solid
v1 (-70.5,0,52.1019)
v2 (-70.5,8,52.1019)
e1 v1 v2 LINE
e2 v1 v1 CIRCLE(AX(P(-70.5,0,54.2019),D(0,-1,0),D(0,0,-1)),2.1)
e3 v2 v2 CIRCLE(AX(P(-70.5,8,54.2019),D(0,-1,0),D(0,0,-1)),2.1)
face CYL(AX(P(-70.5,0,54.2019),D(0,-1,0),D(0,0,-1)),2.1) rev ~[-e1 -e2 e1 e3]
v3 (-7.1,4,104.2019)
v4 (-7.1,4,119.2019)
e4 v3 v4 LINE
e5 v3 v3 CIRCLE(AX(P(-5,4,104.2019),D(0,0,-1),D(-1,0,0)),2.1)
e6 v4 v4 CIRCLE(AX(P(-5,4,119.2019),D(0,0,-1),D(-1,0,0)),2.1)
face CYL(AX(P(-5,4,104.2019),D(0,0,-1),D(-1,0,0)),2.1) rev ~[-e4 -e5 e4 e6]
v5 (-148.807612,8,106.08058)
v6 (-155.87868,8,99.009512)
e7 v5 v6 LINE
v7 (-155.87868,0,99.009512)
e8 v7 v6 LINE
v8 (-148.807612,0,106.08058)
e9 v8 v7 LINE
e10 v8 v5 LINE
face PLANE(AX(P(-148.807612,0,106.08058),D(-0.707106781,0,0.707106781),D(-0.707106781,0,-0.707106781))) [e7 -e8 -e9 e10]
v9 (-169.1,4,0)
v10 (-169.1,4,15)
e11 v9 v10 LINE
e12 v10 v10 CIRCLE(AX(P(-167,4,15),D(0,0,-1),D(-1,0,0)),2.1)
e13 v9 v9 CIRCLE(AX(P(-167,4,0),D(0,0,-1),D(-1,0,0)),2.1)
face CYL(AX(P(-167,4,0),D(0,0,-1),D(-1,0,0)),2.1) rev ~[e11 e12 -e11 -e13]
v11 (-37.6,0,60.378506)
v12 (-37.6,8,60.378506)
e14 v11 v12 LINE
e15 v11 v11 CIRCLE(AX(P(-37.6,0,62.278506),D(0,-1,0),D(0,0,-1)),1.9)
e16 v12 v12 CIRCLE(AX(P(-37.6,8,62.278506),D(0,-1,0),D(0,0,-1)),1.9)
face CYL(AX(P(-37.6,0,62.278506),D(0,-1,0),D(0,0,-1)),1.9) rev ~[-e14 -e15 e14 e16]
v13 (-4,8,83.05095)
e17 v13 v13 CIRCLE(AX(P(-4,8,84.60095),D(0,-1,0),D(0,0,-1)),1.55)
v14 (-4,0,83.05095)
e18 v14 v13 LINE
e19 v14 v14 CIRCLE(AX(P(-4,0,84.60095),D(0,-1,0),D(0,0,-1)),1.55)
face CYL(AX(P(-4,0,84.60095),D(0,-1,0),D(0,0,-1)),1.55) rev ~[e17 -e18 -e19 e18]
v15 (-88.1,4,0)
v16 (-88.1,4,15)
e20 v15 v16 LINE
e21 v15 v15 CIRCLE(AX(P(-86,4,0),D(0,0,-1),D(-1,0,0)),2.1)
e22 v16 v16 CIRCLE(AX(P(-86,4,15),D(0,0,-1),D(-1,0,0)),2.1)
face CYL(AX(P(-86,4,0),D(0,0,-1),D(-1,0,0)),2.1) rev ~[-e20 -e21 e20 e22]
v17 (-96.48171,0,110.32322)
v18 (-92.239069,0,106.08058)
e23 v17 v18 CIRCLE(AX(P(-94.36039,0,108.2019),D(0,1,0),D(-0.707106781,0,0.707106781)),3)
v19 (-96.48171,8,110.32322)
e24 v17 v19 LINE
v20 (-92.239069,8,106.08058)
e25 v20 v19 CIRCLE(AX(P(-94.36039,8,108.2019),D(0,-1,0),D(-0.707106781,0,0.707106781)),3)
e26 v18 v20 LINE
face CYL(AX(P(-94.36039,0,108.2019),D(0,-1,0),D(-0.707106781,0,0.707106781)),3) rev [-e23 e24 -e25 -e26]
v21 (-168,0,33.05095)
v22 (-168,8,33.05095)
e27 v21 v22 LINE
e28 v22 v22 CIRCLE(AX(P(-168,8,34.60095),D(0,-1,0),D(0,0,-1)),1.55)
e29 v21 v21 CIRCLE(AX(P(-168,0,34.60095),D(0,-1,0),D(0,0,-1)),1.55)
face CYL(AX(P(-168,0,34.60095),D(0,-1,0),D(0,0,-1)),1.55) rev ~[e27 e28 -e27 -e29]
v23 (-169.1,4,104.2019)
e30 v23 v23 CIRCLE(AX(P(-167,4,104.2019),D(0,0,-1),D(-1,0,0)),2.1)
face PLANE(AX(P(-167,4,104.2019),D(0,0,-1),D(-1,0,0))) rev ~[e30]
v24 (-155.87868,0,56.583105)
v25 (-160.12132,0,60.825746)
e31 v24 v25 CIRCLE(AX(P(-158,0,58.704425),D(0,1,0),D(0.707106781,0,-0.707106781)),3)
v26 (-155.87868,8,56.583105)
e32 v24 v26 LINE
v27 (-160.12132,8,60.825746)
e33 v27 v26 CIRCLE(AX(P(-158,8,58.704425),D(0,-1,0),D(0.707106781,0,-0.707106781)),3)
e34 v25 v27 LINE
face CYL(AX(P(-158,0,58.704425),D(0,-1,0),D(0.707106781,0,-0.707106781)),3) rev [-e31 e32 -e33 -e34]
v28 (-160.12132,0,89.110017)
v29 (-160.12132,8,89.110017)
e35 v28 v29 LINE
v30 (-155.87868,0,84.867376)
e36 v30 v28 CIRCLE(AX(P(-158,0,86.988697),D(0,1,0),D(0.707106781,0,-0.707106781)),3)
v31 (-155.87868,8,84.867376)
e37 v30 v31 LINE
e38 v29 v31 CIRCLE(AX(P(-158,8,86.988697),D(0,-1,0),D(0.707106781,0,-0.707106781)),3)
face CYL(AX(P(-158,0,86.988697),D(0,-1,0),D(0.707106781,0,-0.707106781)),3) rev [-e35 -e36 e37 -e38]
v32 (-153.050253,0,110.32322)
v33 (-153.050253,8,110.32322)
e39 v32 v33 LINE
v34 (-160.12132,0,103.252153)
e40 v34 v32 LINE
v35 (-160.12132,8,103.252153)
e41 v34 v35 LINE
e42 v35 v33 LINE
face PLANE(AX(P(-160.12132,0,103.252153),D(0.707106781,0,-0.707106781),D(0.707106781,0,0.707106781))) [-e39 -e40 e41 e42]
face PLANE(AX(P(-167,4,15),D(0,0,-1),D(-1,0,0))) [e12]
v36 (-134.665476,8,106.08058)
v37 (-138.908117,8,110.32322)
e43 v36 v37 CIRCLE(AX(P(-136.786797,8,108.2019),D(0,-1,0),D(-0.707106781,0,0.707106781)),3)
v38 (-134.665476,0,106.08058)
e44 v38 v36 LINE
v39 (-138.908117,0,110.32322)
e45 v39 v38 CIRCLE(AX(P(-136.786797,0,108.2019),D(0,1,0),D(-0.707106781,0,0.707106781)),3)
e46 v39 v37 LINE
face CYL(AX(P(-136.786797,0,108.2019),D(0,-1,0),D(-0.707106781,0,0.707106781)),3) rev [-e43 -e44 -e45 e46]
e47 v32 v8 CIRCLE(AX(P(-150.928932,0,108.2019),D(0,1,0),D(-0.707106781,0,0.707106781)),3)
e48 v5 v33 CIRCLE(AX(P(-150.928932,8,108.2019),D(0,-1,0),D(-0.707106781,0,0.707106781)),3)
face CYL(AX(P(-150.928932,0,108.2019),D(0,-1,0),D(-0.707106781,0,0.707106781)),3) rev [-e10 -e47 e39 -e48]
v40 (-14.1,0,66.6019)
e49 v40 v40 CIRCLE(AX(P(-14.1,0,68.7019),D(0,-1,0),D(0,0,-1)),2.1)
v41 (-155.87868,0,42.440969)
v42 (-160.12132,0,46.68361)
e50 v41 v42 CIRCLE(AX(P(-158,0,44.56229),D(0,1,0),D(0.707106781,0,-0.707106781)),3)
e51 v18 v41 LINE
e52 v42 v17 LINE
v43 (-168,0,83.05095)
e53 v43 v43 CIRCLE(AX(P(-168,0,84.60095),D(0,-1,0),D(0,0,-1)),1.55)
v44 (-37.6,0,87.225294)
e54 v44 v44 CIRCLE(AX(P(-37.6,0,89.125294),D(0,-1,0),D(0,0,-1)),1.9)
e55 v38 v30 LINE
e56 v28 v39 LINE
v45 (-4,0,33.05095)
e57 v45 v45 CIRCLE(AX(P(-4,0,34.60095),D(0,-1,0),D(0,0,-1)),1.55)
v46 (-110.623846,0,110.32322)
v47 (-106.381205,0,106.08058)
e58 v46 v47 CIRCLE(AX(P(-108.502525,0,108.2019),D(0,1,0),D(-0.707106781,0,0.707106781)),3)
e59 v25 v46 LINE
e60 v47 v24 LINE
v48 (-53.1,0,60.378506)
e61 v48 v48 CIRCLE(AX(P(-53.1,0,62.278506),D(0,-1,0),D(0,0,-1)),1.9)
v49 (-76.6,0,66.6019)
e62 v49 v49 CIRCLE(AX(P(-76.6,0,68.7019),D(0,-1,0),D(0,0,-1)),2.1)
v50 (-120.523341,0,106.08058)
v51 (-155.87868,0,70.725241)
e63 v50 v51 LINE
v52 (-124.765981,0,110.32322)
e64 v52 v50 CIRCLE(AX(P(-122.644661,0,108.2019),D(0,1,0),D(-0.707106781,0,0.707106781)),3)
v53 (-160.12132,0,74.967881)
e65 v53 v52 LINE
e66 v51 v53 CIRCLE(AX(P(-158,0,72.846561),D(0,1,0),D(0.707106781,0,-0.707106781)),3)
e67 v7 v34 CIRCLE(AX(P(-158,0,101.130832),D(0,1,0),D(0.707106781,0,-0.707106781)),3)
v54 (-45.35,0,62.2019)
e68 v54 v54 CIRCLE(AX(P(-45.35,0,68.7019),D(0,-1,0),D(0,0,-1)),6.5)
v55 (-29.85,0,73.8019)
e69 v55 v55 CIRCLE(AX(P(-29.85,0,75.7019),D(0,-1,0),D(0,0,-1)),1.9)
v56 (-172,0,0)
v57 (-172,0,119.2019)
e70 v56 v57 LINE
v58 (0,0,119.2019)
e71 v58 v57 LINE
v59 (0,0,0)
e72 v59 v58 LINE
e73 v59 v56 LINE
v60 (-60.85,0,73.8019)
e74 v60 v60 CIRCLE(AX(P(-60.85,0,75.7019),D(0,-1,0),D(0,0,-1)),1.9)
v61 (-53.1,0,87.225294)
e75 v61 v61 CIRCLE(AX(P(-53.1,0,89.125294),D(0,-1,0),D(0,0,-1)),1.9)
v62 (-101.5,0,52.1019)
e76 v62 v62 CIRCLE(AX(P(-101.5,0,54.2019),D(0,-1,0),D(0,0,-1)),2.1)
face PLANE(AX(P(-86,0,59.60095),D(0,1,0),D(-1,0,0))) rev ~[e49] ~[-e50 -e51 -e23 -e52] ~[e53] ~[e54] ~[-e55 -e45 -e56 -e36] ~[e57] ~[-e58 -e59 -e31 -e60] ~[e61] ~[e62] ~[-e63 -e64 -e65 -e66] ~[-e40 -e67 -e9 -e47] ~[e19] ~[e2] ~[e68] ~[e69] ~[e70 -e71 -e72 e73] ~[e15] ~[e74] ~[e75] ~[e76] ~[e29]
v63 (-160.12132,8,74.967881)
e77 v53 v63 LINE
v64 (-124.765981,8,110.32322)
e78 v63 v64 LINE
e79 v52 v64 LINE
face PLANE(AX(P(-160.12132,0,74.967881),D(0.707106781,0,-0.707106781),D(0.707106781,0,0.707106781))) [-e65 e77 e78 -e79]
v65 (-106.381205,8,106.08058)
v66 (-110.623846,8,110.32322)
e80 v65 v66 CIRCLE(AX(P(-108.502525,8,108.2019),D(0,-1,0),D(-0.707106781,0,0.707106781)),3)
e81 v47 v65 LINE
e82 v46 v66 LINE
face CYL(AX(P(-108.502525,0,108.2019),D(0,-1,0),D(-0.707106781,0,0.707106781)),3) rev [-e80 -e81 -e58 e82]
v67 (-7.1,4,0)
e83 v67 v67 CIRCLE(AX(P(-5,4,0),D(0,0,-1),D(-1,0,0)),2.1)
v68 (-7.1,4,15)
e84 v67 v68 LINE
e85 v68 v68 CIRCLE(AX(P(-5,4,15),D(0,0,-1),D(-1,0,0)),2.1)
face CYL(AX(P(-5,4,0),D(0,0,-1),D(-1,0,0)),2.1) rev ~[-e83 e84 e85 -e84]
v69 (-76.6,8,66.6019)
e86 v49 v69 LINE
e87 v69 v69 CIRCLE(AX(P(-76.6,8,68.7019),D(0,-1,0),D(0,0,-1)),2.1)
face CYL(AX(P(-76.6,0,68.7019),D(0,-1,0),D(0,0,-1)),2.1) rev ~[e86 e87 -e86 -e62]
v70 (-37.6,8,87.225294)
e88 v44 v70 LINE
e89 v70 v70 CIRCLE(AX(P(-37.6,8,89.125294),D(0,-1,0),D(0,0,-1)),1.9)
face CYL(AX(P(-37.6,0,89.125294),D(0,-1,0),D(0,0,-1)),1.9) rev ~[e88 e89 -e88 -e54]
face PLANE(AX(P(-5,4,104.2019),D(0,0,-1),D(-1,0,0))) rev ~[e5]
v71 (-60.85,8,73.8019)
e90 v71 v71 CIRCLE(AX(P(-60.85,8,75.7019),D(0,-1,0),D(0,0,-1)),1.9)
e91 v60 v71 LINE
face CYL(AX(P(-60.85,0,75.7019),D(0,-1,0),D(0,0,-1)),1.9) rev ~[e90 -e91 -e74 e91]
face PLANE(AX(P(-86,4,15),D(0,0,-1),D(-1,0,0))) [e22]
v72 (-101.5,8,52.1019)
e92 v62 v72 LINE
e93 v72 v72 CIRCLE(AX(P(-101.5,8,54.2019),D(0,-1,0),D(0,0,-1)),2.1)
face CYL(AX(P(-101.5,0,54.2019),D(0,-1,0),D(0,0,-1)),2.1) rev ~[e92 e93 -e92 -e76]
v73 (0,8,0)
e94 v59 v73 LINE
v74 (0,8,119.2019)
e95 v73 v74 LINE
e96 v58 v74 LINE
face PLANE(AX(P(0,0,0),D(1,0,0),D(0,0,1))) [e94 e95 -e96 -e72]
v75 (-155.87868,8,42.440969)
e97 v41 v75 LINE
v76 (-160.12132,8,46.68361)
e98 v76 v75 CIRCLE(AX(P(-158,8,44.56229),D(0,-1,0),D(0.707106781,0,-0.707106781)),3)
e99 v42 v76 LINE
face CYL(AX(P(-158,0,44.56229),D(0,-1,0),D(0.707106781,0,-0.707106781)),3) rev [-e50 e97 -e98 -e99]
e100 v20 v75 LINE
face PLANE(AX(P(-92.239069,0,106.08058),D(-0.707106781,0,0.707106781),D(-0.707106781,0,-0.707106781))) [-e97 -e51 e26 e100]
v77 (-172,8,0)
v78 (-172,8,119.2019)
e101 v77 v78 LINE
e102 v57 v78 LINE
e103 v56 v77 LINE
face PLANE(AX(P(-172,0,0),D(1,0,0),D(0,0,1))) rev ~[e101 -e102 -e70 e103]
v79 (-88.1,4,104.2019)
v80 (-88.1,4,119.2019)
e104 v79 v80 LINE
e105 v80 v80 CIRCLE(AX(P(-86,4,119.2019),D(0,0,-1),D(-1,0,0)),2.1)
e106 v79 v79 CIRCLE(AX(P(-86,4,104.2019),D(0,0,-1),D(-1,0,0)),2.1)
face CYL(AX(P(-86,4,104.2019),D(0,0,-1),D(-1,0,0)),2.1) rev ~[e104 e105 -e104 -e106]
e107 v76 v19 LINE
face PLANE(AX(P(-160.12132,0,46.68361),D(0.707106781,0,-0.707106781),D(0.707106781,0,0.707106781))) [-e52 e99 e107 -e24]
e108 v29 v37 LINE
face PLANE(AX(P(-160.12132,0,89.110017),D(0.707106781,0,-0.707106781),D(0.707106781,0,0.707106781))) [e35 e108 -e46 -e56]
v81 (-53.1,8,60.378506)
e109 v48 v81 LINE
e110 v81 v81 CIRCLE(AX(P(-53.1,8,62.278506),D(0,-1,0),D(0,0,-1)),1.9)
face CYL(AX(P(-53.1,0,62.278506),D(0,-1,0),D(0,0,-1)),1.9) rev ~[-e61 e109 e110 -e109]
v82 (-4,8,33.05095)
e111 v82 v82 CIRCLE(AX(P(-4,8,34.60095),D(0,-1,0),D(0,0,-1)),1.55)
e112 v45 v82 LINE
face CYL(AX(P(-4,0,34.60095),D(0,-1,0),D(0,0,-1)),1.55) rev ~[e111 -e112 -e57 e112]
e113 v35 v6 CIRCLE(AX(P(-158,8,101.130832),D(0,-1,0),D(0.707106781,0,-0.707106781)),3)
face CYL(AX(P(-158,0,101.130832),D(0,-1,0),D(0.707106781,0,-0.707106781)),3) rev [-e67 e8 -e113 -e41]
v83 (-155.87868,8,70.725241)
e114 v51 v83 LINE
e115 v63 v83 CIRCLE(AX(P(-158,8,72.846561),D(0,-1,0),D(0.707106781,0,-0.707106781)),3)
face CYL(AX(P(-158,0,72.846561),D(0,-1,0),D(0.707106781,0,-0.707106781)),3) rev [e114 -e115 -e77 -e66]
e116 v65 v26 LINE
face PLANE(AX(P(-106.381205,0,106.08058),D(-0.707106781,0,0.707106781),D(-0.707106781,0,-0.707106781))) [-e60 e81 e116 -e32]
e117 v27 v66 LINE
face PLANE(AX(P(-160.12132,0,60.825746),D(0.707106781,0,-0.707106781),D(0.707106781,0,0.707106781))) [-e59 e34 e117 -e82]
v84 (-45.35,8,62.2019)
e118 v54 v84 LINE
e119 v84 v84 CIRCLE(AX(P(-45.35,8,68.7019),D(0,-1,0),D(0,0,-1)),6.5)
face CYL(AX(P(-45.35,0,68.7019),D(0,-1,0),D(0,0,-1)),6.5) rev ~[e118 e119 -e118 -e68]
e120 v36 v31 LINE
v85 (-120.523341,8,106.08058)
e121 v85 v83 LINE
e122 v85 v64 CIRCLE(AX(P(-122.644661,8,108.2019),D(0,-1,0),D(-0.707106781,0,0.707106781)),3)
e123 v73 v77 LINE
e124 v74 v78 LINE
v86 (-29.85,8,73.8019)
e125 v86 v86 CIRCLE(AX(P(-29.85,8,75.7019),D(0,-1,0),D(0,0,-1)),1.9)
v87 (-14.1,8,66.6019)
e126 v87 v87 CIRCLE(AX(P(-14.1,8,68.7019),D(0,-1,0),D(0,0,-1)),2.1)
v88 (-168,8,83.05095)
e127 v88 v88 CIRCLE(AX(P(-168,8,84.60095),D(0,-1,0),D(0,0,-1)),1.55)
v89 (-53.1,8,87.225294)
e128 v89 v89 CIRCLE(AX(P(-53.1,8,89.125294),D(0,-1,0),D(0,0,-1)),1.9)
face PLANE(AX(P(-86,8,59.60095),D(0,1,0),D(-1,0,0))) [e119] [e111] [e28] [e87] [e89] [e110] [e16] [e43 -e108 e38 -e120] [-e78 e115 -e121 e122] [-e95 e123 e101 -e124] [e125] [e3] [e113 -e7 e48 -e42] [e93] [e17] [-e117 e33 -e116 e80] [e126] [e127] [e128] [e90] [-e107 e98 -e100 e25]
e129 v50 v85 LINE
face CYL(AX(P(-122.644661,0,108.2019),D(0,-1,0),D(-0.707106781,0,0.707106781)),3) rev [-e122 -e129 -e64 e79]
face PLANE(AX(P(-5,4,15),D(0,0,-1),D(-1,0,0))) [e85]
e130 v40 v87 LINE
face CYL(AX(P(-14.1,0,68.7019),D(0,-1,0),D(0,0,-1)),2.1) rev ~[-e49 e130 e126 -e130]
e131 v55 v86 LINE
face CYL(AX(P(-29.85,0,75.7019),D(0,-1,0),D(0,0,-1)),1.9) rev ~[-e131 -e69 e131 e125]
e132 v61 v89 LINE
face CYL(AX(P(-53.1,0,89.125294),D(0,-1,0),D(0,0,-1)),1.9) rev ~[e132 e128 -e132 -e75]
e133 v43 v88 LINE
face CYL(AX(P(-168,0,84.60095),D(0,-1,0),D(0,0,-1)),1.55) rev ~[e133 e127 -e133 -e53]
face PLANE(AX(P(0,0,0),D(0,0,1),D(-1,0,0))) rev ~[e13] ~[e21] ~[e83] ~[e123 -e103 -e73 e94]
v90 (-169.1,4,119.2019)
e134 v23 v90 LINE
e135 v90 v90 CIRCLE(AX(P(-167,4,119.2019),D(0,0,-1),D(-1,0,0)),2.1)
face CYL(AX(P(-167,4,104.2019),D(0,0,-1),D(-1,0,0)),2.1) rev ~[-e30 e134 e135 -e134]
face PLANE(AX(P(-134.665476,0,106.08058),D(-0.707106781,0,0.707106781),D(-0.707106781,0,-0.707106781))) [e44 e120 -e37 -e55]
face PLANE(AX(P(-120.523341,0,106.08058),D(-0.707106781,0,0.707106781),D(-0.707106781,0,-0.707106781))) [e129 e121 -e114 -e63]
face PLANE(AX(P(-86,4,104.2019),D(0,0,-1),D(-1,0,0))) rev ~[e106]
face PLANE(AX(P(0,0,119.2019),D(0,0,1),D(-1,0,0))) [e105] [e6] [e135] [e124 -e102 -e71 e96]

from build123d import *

# Parameters (mm, degrees)
SKETCH1_W           = 172
SKETCH1_H           = 119.2019
BOSS_EXTRUDE1_DEPTH = 8
CUT_EXTRUDE1_REACH  = 211.421
SKETCH2_R           = 6.5
SKETCH2_R_2         = 1.9
SKETCH2_R_3         = 2.1
SKETCH3_R           = 2.1
CUT_EXTRUDE2_DEPTH  = 15
CUT_EXTRUDE3_START  = -104.2019
SKETCH3_3_R         = 2.1
CUT_EXTRUDE3_DEPTH  = 15
CUT_EXTRUDE4_REACH  = 211.421
SKETCH4_R           = 1.55


with BuildPart() as part:
    # Sketch1 → Boss-Extrude1 (new body)
    with BuildSketch(Plane(origin=(0, 0, 0), x_dir=(-1, 0, 0), z_dir=(0, 1, 0))):
        with Locations((86, 59.60095)):
            Rectangle(SKETCH1_W, SKETCH1_H)
    extrude(amount=BOSS_EXTRUDE1_DEPTH)

    # Sketch2 → Cut-Extrude1 (cut, up to next)
    with BuildSketch(Plane.XZ, mode=Mode.PRIVATE) as cut_extrude1_sk1:
        with Locations(Location((-45.35, 68.7019, 0), (0, 0, 270))):
            Circle(SKETCH2_R)
    cut_extrude1_tool1 = extrude(cut_extrude1_sk1.sketch, amount=-CUT_EXTRUDE1_REACH, mode=Mode.PRIVATE) & part.part
    # Sketch2 → Cut-Extrude1 (cut, up to next)
    with BuildSketch(Plane.XZ, mode=Mode.PRIVATE) as cut_extrude1_sk2:
        with Locations(Location((-60.85, 75.7019, 0), (0, 0, 270))):
            Circle(SKETCH2_R_2)
    cut_extrude1_tool2 = extrude(cut_extrude1_sk2.sketch, amount=-CUT_EXTRUDE1_REACH, mode=Mode.PRIVATE) & part.part
    # Sketch2 → Cut-Extrude1 (cut, up to next)
    with BuildSketch(Plane.XZ, mode=Mode.PRIVATE) as cut_extrude1_sk3:
        with Locations(Location((-53.1, 89.125293759, 0), (0, 0, 270))):
            Circle(SKETCH2_R_2)
    cut_extrude1_tool3 = extrude(cut_extrude1_sk3.sketch, amount=-CUT_EXTRUDE1_REACH, mode=Mode.PRIVATE) & part.part
    # Sketch2 → Cut-Extrude1 (cut, up to next)
    with BuildSketch(Plane.XZ, mode=Mode.PRIVATE) as cut_extrude1_sk4:
        with Locations(Location((-37.6, 89.125293759, 0), (0, 0, 270))):
            Circle(SKETCH2_R_2)
    cut_extrude1_tool4 = extrude(cut_extrude1_sk4.sketch, amount=-CUT_EXTRUDE1_REACH, mode=Mode.PRIVATE) & part.part
    # Sketch2 → Cut-Extrude1 (cut, up to next)
    with BuildSketch(Plane.XZ, mode=Mode.PRIVATE) as cut_extrude1_sk5:
        with Locations(Location((-29.85, 75.7019, 0), (0, 0, 270))):
            Circle(SKETCH2_R_2)
    cut_extrude1_tool5 = extrude(cut_extrude1_sk5.sketch, amount=-CUT_EXTRUDE1_REACH, mode=Mode.PRIVATE) & part.part
    # Sketch2 → Cut-Extrude1 (cut, up to next)
    with BuildSketch(Plane.XZ, mode=Mode.PRIVATE) as cut_extrude1_sk6:
        with Locations(Location((-37.6, 62.278506241, 0), (0, 0, 270))):
            Circle(SKETCH2_R_2)
    cut_extrude1_tool6 = extrude(cut_extrude1_sk6.sketch, amount=-CUT_EXTRUDE1_REACH, mode=Mode.PRIVATE) & part.part
    # Sketch2 → Cut-Extrude1 (cut, up to next)
    with BuildSketch(Plane.XZ, mode=Mode.PRIVATE) as cut_extrude1_sk7:
        with Locations(Location((-53.1, 62.278506241, 0), (0, 0, 270))):
            Circle(SKETCH2_R_2)
    cut_extrude1_tool7 = extrude(cut_extrude1_sk7.sketch, amount=-CUT_EXTRUDE1_REACH, mode=Mode.PRIVATE) & part.part
    # Sketch2 → Cut-Extrude1 (cut, up to next)
    with BuildSketch(Plane.XZ, mode=Mode.PRIVATE) as cut_extrude1_sk8:
        with Locations(Location((-76.6, 68.7019, 0), (0, 0, 270))):
            Circle(SKETCH2_R_3)
    cut_extrude1_tool8 = extrude(cut_extrude1_sk8.sketch, amount=-CUT_EXTRUDE1_REACH, mode=Mode.PRIVATE) & part.part
    # Sketch2 → Cut-Extrude1 (cut, up to next)
    with BuildSketch(Plane.XZ, mode=Mode.PRIVATE) as cut_extrude1_sk9:
        with Locations(Location((-14.1, 68.7019, 0), (0, 0, 270))):
            Circle(SKETCH2_R_3)
    cut_extrude1_tool9 = extrude(cut_extrude1_sk9.sketch, amount=-CUT_EXTRUDE1_REACH, mode=Mode.PRIVATE) & part.part
    # Sketch2 → Cut-Extrude1 (cut, up to next)
    with BuildSketch(Plane.XZ, mode=Mode.PRIVATE) as cut_extrude1_sk10:
        with Locations(Location((-70.5, 54.2019, 0), (0, 0, 270))):
            Circle(SKETCH2_R_3)
    cut_extrude1_tool10 = extrude(cut_extrude1_sk10.sketch, amount=-CUT_EXTRUDE1_REACH, mode=Mode.PRIVATE) & part.part
    # Sketch2 → Cut-Extrude1 (cut, up to next)
    with BuildSketch(Plane.XZ, mode=Mode.PRIVATE) as cut_extrude1_sk11:
        with Locations(Location((-101.5, 54.2019, 0), (0, 0, 270))):
            Circle(SKETCH2_R_3)
    cut_extrude1_tool11 = extrude(cut_extrude1_sk11.sketch, amount=-CUT_EXTRUDE1_REACH, mode=Mode.PRIVATE) & part.part
    # Sketch2 → Cut-Extrude1 (cut, up to next)
    with BuildSketch(Plane.XZ, mode=Mode.PRIVATE) as cut_extrude1_sk12:
        with BuildLine():
            Line((-160.121320344, 89.110016908), (-138.908116908, 110.323220344))
            ThreePointArc((-138.908116908, 110.323220344), (-134.665476221, 110.323220344), (-134.665476221, 106.080579656))
            Line((-134.665476221, 106.080579656), (-155.878679656, 84.867376221))
            ThreePointArc((-155.878679656, 84.867376221), (-160.121320344, 84.867376221), (-160.121320344, 89.110016908))
        make_face()
    cut_extrude1_tool12 = extrude(cut_extrude1_sk12.sketch, amount=-CUT_EXTRUDE1_REACH, mode=Mode.PRIVATE) & part.part
    # Sketch2 → Cut-Extrude1 (cut, up to next)
    with BuildSketch(Plane.XZ, mode=Mode.PRIVATE) as cut_extrude1_sk13:
        with BuildLine():
            Line((-160.121320344, 74.967881284), (-124.765981284, 110.323220344))
            ThreePointArc((-124.765981284, 110.323220344), (-120.523340597, 110.323220344), (-120.523340597, 106.080579656))
            Line((-120.523340597, 106.080579656), (-155.878679656, 70.725240597))
            ThreePointArc((-155.878679656, 70.725240597), (-160.121320344, 70.725240597), (-160.121320344, 74.967881284))
        make_face()
    cut_extrude1_tool13 = extrude(cut_extrude1_sk13.sketch, amount=-CUT_EXTRUDE1_REACH, mode=Mode.PRIVATE) & part.part
    # Sketch2 → Cut-Extrude1 (cut, up to next)
    with BuildSketch(Plane.XZ, mode=Mode.PRIVATE) as cut_extrude1_sk14:
        with BuildLine():
            Line((-160.121320344, 60.825745661), (-110.623845661, 110.323220344))
            ThreePointArc((-110.623845661, 110.323220344), (-106.381204973, 110.323220344), (-106.381204973, 106.080579656))
            Line((-106.381204973, 106.080579656), (-155.878679656, 56.583104973))
            ThreePointArc((-155.878679656, 56.583104973), (-160.121320344, 56.583104973), (-160.121320344, 60.825745661))
        make_face()
    cut_extrude1_tool14 = extrude(cut_extrude1_sk14.sketch, amount=-CUT_EXTRUDE1_REACH, mode=Mode.PRIVATE) & part.part
    # Sketch2 → Cut-Extrude1 (cut, up to next)
    with BuildSketch(Plane.XZ, mode=Mode.PRIVATE) as cut_extrude1_sk15:
        with BuildLine():
            Line((-160.121320344, 46.683610037), (-96.481710037, 110.323220344))
            ThreePointArc((-96.481710037, 110.323220344), (-92.23906935, 110.323220344), (-92.23906935, 106.080579656))
            Line((-92.23906935, 106.080579656), (-155.878679656, 42.44096935))
            ThreePointArc((-155.878679656, 42.44096935), (-160.121320344, 42.44096935), (-160.121320344, 46.683610037))
        make_face()
    cut_extrude1_tool15 = extrude(cut_extrude1_sk15.sketch, amount=-CUT_EXTRUDE1_REACH, mode=Mode.PRIVATE) & part.part
    # Sketch2 → Cut-Extrude1 (cut, up to next)
    with BuildSketch(Plane.XZ, mode=Mode.PRIVATE) as cut_extrude1_sk16:
        with BuildLine():
            Line((-160.121320344, 103.252152532), (-153.050252532, 110.323220344))
            ThreePointArc((-153.050252532, 110.323220344), (-148.807611845, 110.323220344), (-148.807611845, 106.080579656))
            Line((-148.807611845, 106.080579656), (-155.878679656, 99.009511845))
            ThreePointArc((-155.878679656, 99.009511845), (-160.121320344, 99.009511845), (-160.121320344, 103.252152532))
        make_face()
    cut_extrude1_tool16 = extrude(cut_extrude1_sk16.sketch, amount=-CUT_EXTRUDE1_REACH, mode=Mode.PRIVATE) & part.part
    add(cut_extrude1_tool1.solids().sort_by_distance((-45.35, 0, 68.7019))[0], mode=Mode.SUBTRACT)
    add(cut_extrude1_tool2.solids().sort_by_distance((-60.85, 0, 75.7019))[0], mode=Mode.SUBTRACT)
    add(cut_extrude1_tool3.solids().sort_by_distance((-53.1, 0, 89.125294))[0], mode=Mode.SUBTRACT)
    add(cut_extrude1_tool4.solids().sort_by_distance((-37.6, 0, 89.125294))[0], mode=Mode.SUBTRACT)
    add(cut_extrude1_tool5.solids().sort_by_distance((-29.85, 0, 75.7019))[0], mode=Mode.SUBTRACT)
    add(cut_extrude1_tool6.solids().sort_by_distance((-37.6, 0, 62.278506))[0], mode=Mode.SUBTRACT)
    add(cut_extrude1_tool7.solids().sort_by_distance((-53.1, 0, 62.278506))[0], mode=Mode.SUBTRACT)
    add(cut_extrude1_tool8.solids().sort_by_distance((-76.6, 0, 68.7019))[0], mode=Mode.SUBTRACT)
    add(cut_extrude1_tool9.solids().sort_by_distance((-14.1, 0, 68.7019))[0], mode=Mode.SUBTRACT)
    add(cut_extrude1_tool10.solids().sort_by_distance((-70.5, 0, 54.2019))[0], mode=Mode.SUBTRACT)
    add(cut_extrude1_tool11.solids().sort_by_distance((-101.5, 0, 54.2019))[0], mode=Mode.SUBTRACT)
    add(cut_extrude1_tool12.solids().sort_by_distance((-147.393398, 0, 97.595298))[0], mode=Mode.SUBTRACT)
    add(cut_extrude1_tool13.solids().sort_by_distance((-140.32233, 0, 90.52423))[0], mode=Mode.SUBTRACT)
    add(cut_extrude1_tool14.solids().sort_by_distance((-133.251263, 0, 83.453163))[0], mode=Mode.SUBTRACT)
    add(cut_extrude1_tool15.solids().sort_by_distance((-126.180195, 0, 76.382095))[0], mode=Mode.SUBTRACT)
    add(cut_extrude1_tool16.solids().sort_by_distance((-154.464466, 0, 104.666366))[0], mode=Mode.SUBTRACT)

    # Sketch3 → Cut-Extrude2 (cut)
    with BuildSketch(Plane(origin=(0, 0, 0), x_dir=(1, 0, 0), z_dir=(0, 0, -1))):
        with Locations(Location((-5, -4, 0), (0, 0, 180))):
            Circle(SKETCH3_R)
        with Locations(Location((-167, -4, 0), (0, 0, 180))):
            Circle(SKETCH3_R)
        with Locations(Location((-86, -4, 0), (0, 0, 180))):
            Circle(SKETCH3_R)
    extrude(amount=-CUT_EXTRUDE2_DEPTH, mode=Mode.SUBTRACT)

    # Sketch3<3> → Cut-Extrude3 (cut)
    with BuildSketch(Plane(origin=(0, 0, 0), x_dir=(1, 0, 0), z_dir=(0, 0, -1)).offset(CUT_EXTRUDE3_START)):
        with Locations(Location((-5, -4, 0), (0, 0, 180))):
            Circle(SKETCH3_3_R)
        with Locations(Location((-167, -4, 0), (0, 0, 180))):
            Circle(SKETCH3_3_R)
        with Locations(Location((-86, -4, 0), (0, 0, 180))):
            Circle(SKETCH3_3_R)
    extrude(amount=-CUT_EXTRUDE3_DEPTH, mode=Mode.SUBTRACT)

    # Sketch4 → Cut-Extrude4 (cut, up to next)
    with BuildSketch(Plane.XZ, mode=Mode.PRIVATE) as cut_extrude4_sk1:
        with Locations(Location((-168, 84.60095, 0), (0, 0, 270))):
            Circle(SKETCH4_R)
    cut_extrude4_tool1 = extrude(cut_extrude4_sk1.sketch, amount=-CUT_EXTRUDE4_REACH, mode=Mode.PRIVATE) & part.part
    # Sketch4 → Cut-Extrude4 (cut, up to next)
    with BuildSketch(Plane.XZ, mode=Mode.PRIVATE) as cut_extrude4_sk2:
        with Locations(Location((-168, 34.60095, 0), (0, 0, 270))):
            Circle(SKETCH4_R)
    cut_extrude4_tool2 = extrude(cut_extrude4_sk2.sketch, amount=-CUT_EXTRUDE4_REACH, mode=Mode.PRIVATE) & part.part
    # Sketch4 → Cut-Extrude4 (cut, up to next)
    with BuildSketch(Plane.XZ, mode=Mode.PRIVATE) as cut_extrude4_sk3:
        with Locations(Location((-4, 34.60095, 0), (0, 0, 270))):
            Circle(SKETCH4_R)
    cut_extrude4_tool3 = extrude(cut_extrude4_sk3.sketch, amount=-CUT_EXTRUDE4_REACH, mode=Mode.PRIVATE) & part.part
    # Sketch4 → Cut-Extrude4 (cut, up to next)
    with BuildSketch(Plane.XZ, mode=Mode.PRIVATE) as cut_extrude4_sk4:
        with Locations(Location((-4, 84.60095, 0), (0, 0, 270))):
            Circle(SKETCH4_R)
    cut_extrude4_tool4 = extrude(cut_extrude4_sk4.sketch, amount=-CUT_EXTRUDE4_REACH, mode=Mode.PRIVATE) & part.part
    add(cut_extrude4_tool1.solids().sort_by_distance((-168, 0, 84.60095))[0], mode=Mode.SUBTRACT)
    add(cut_extrude4_tool2.solids().sort_by_distance((-168, 0, 34.60095))[0], mode=Mode.SUBTRACT)
    add(cut_extrude4_tool3.solids().sort_by_distance((-4, 0, 34.60095))[0], mode=Mode.SUBTRACT)
    add(cut_extrude4_tool4.solids().sort_by_distance((-4, 0, 84.60095))[0], mode=Mode.SUBTRACT)


solid = part.part
